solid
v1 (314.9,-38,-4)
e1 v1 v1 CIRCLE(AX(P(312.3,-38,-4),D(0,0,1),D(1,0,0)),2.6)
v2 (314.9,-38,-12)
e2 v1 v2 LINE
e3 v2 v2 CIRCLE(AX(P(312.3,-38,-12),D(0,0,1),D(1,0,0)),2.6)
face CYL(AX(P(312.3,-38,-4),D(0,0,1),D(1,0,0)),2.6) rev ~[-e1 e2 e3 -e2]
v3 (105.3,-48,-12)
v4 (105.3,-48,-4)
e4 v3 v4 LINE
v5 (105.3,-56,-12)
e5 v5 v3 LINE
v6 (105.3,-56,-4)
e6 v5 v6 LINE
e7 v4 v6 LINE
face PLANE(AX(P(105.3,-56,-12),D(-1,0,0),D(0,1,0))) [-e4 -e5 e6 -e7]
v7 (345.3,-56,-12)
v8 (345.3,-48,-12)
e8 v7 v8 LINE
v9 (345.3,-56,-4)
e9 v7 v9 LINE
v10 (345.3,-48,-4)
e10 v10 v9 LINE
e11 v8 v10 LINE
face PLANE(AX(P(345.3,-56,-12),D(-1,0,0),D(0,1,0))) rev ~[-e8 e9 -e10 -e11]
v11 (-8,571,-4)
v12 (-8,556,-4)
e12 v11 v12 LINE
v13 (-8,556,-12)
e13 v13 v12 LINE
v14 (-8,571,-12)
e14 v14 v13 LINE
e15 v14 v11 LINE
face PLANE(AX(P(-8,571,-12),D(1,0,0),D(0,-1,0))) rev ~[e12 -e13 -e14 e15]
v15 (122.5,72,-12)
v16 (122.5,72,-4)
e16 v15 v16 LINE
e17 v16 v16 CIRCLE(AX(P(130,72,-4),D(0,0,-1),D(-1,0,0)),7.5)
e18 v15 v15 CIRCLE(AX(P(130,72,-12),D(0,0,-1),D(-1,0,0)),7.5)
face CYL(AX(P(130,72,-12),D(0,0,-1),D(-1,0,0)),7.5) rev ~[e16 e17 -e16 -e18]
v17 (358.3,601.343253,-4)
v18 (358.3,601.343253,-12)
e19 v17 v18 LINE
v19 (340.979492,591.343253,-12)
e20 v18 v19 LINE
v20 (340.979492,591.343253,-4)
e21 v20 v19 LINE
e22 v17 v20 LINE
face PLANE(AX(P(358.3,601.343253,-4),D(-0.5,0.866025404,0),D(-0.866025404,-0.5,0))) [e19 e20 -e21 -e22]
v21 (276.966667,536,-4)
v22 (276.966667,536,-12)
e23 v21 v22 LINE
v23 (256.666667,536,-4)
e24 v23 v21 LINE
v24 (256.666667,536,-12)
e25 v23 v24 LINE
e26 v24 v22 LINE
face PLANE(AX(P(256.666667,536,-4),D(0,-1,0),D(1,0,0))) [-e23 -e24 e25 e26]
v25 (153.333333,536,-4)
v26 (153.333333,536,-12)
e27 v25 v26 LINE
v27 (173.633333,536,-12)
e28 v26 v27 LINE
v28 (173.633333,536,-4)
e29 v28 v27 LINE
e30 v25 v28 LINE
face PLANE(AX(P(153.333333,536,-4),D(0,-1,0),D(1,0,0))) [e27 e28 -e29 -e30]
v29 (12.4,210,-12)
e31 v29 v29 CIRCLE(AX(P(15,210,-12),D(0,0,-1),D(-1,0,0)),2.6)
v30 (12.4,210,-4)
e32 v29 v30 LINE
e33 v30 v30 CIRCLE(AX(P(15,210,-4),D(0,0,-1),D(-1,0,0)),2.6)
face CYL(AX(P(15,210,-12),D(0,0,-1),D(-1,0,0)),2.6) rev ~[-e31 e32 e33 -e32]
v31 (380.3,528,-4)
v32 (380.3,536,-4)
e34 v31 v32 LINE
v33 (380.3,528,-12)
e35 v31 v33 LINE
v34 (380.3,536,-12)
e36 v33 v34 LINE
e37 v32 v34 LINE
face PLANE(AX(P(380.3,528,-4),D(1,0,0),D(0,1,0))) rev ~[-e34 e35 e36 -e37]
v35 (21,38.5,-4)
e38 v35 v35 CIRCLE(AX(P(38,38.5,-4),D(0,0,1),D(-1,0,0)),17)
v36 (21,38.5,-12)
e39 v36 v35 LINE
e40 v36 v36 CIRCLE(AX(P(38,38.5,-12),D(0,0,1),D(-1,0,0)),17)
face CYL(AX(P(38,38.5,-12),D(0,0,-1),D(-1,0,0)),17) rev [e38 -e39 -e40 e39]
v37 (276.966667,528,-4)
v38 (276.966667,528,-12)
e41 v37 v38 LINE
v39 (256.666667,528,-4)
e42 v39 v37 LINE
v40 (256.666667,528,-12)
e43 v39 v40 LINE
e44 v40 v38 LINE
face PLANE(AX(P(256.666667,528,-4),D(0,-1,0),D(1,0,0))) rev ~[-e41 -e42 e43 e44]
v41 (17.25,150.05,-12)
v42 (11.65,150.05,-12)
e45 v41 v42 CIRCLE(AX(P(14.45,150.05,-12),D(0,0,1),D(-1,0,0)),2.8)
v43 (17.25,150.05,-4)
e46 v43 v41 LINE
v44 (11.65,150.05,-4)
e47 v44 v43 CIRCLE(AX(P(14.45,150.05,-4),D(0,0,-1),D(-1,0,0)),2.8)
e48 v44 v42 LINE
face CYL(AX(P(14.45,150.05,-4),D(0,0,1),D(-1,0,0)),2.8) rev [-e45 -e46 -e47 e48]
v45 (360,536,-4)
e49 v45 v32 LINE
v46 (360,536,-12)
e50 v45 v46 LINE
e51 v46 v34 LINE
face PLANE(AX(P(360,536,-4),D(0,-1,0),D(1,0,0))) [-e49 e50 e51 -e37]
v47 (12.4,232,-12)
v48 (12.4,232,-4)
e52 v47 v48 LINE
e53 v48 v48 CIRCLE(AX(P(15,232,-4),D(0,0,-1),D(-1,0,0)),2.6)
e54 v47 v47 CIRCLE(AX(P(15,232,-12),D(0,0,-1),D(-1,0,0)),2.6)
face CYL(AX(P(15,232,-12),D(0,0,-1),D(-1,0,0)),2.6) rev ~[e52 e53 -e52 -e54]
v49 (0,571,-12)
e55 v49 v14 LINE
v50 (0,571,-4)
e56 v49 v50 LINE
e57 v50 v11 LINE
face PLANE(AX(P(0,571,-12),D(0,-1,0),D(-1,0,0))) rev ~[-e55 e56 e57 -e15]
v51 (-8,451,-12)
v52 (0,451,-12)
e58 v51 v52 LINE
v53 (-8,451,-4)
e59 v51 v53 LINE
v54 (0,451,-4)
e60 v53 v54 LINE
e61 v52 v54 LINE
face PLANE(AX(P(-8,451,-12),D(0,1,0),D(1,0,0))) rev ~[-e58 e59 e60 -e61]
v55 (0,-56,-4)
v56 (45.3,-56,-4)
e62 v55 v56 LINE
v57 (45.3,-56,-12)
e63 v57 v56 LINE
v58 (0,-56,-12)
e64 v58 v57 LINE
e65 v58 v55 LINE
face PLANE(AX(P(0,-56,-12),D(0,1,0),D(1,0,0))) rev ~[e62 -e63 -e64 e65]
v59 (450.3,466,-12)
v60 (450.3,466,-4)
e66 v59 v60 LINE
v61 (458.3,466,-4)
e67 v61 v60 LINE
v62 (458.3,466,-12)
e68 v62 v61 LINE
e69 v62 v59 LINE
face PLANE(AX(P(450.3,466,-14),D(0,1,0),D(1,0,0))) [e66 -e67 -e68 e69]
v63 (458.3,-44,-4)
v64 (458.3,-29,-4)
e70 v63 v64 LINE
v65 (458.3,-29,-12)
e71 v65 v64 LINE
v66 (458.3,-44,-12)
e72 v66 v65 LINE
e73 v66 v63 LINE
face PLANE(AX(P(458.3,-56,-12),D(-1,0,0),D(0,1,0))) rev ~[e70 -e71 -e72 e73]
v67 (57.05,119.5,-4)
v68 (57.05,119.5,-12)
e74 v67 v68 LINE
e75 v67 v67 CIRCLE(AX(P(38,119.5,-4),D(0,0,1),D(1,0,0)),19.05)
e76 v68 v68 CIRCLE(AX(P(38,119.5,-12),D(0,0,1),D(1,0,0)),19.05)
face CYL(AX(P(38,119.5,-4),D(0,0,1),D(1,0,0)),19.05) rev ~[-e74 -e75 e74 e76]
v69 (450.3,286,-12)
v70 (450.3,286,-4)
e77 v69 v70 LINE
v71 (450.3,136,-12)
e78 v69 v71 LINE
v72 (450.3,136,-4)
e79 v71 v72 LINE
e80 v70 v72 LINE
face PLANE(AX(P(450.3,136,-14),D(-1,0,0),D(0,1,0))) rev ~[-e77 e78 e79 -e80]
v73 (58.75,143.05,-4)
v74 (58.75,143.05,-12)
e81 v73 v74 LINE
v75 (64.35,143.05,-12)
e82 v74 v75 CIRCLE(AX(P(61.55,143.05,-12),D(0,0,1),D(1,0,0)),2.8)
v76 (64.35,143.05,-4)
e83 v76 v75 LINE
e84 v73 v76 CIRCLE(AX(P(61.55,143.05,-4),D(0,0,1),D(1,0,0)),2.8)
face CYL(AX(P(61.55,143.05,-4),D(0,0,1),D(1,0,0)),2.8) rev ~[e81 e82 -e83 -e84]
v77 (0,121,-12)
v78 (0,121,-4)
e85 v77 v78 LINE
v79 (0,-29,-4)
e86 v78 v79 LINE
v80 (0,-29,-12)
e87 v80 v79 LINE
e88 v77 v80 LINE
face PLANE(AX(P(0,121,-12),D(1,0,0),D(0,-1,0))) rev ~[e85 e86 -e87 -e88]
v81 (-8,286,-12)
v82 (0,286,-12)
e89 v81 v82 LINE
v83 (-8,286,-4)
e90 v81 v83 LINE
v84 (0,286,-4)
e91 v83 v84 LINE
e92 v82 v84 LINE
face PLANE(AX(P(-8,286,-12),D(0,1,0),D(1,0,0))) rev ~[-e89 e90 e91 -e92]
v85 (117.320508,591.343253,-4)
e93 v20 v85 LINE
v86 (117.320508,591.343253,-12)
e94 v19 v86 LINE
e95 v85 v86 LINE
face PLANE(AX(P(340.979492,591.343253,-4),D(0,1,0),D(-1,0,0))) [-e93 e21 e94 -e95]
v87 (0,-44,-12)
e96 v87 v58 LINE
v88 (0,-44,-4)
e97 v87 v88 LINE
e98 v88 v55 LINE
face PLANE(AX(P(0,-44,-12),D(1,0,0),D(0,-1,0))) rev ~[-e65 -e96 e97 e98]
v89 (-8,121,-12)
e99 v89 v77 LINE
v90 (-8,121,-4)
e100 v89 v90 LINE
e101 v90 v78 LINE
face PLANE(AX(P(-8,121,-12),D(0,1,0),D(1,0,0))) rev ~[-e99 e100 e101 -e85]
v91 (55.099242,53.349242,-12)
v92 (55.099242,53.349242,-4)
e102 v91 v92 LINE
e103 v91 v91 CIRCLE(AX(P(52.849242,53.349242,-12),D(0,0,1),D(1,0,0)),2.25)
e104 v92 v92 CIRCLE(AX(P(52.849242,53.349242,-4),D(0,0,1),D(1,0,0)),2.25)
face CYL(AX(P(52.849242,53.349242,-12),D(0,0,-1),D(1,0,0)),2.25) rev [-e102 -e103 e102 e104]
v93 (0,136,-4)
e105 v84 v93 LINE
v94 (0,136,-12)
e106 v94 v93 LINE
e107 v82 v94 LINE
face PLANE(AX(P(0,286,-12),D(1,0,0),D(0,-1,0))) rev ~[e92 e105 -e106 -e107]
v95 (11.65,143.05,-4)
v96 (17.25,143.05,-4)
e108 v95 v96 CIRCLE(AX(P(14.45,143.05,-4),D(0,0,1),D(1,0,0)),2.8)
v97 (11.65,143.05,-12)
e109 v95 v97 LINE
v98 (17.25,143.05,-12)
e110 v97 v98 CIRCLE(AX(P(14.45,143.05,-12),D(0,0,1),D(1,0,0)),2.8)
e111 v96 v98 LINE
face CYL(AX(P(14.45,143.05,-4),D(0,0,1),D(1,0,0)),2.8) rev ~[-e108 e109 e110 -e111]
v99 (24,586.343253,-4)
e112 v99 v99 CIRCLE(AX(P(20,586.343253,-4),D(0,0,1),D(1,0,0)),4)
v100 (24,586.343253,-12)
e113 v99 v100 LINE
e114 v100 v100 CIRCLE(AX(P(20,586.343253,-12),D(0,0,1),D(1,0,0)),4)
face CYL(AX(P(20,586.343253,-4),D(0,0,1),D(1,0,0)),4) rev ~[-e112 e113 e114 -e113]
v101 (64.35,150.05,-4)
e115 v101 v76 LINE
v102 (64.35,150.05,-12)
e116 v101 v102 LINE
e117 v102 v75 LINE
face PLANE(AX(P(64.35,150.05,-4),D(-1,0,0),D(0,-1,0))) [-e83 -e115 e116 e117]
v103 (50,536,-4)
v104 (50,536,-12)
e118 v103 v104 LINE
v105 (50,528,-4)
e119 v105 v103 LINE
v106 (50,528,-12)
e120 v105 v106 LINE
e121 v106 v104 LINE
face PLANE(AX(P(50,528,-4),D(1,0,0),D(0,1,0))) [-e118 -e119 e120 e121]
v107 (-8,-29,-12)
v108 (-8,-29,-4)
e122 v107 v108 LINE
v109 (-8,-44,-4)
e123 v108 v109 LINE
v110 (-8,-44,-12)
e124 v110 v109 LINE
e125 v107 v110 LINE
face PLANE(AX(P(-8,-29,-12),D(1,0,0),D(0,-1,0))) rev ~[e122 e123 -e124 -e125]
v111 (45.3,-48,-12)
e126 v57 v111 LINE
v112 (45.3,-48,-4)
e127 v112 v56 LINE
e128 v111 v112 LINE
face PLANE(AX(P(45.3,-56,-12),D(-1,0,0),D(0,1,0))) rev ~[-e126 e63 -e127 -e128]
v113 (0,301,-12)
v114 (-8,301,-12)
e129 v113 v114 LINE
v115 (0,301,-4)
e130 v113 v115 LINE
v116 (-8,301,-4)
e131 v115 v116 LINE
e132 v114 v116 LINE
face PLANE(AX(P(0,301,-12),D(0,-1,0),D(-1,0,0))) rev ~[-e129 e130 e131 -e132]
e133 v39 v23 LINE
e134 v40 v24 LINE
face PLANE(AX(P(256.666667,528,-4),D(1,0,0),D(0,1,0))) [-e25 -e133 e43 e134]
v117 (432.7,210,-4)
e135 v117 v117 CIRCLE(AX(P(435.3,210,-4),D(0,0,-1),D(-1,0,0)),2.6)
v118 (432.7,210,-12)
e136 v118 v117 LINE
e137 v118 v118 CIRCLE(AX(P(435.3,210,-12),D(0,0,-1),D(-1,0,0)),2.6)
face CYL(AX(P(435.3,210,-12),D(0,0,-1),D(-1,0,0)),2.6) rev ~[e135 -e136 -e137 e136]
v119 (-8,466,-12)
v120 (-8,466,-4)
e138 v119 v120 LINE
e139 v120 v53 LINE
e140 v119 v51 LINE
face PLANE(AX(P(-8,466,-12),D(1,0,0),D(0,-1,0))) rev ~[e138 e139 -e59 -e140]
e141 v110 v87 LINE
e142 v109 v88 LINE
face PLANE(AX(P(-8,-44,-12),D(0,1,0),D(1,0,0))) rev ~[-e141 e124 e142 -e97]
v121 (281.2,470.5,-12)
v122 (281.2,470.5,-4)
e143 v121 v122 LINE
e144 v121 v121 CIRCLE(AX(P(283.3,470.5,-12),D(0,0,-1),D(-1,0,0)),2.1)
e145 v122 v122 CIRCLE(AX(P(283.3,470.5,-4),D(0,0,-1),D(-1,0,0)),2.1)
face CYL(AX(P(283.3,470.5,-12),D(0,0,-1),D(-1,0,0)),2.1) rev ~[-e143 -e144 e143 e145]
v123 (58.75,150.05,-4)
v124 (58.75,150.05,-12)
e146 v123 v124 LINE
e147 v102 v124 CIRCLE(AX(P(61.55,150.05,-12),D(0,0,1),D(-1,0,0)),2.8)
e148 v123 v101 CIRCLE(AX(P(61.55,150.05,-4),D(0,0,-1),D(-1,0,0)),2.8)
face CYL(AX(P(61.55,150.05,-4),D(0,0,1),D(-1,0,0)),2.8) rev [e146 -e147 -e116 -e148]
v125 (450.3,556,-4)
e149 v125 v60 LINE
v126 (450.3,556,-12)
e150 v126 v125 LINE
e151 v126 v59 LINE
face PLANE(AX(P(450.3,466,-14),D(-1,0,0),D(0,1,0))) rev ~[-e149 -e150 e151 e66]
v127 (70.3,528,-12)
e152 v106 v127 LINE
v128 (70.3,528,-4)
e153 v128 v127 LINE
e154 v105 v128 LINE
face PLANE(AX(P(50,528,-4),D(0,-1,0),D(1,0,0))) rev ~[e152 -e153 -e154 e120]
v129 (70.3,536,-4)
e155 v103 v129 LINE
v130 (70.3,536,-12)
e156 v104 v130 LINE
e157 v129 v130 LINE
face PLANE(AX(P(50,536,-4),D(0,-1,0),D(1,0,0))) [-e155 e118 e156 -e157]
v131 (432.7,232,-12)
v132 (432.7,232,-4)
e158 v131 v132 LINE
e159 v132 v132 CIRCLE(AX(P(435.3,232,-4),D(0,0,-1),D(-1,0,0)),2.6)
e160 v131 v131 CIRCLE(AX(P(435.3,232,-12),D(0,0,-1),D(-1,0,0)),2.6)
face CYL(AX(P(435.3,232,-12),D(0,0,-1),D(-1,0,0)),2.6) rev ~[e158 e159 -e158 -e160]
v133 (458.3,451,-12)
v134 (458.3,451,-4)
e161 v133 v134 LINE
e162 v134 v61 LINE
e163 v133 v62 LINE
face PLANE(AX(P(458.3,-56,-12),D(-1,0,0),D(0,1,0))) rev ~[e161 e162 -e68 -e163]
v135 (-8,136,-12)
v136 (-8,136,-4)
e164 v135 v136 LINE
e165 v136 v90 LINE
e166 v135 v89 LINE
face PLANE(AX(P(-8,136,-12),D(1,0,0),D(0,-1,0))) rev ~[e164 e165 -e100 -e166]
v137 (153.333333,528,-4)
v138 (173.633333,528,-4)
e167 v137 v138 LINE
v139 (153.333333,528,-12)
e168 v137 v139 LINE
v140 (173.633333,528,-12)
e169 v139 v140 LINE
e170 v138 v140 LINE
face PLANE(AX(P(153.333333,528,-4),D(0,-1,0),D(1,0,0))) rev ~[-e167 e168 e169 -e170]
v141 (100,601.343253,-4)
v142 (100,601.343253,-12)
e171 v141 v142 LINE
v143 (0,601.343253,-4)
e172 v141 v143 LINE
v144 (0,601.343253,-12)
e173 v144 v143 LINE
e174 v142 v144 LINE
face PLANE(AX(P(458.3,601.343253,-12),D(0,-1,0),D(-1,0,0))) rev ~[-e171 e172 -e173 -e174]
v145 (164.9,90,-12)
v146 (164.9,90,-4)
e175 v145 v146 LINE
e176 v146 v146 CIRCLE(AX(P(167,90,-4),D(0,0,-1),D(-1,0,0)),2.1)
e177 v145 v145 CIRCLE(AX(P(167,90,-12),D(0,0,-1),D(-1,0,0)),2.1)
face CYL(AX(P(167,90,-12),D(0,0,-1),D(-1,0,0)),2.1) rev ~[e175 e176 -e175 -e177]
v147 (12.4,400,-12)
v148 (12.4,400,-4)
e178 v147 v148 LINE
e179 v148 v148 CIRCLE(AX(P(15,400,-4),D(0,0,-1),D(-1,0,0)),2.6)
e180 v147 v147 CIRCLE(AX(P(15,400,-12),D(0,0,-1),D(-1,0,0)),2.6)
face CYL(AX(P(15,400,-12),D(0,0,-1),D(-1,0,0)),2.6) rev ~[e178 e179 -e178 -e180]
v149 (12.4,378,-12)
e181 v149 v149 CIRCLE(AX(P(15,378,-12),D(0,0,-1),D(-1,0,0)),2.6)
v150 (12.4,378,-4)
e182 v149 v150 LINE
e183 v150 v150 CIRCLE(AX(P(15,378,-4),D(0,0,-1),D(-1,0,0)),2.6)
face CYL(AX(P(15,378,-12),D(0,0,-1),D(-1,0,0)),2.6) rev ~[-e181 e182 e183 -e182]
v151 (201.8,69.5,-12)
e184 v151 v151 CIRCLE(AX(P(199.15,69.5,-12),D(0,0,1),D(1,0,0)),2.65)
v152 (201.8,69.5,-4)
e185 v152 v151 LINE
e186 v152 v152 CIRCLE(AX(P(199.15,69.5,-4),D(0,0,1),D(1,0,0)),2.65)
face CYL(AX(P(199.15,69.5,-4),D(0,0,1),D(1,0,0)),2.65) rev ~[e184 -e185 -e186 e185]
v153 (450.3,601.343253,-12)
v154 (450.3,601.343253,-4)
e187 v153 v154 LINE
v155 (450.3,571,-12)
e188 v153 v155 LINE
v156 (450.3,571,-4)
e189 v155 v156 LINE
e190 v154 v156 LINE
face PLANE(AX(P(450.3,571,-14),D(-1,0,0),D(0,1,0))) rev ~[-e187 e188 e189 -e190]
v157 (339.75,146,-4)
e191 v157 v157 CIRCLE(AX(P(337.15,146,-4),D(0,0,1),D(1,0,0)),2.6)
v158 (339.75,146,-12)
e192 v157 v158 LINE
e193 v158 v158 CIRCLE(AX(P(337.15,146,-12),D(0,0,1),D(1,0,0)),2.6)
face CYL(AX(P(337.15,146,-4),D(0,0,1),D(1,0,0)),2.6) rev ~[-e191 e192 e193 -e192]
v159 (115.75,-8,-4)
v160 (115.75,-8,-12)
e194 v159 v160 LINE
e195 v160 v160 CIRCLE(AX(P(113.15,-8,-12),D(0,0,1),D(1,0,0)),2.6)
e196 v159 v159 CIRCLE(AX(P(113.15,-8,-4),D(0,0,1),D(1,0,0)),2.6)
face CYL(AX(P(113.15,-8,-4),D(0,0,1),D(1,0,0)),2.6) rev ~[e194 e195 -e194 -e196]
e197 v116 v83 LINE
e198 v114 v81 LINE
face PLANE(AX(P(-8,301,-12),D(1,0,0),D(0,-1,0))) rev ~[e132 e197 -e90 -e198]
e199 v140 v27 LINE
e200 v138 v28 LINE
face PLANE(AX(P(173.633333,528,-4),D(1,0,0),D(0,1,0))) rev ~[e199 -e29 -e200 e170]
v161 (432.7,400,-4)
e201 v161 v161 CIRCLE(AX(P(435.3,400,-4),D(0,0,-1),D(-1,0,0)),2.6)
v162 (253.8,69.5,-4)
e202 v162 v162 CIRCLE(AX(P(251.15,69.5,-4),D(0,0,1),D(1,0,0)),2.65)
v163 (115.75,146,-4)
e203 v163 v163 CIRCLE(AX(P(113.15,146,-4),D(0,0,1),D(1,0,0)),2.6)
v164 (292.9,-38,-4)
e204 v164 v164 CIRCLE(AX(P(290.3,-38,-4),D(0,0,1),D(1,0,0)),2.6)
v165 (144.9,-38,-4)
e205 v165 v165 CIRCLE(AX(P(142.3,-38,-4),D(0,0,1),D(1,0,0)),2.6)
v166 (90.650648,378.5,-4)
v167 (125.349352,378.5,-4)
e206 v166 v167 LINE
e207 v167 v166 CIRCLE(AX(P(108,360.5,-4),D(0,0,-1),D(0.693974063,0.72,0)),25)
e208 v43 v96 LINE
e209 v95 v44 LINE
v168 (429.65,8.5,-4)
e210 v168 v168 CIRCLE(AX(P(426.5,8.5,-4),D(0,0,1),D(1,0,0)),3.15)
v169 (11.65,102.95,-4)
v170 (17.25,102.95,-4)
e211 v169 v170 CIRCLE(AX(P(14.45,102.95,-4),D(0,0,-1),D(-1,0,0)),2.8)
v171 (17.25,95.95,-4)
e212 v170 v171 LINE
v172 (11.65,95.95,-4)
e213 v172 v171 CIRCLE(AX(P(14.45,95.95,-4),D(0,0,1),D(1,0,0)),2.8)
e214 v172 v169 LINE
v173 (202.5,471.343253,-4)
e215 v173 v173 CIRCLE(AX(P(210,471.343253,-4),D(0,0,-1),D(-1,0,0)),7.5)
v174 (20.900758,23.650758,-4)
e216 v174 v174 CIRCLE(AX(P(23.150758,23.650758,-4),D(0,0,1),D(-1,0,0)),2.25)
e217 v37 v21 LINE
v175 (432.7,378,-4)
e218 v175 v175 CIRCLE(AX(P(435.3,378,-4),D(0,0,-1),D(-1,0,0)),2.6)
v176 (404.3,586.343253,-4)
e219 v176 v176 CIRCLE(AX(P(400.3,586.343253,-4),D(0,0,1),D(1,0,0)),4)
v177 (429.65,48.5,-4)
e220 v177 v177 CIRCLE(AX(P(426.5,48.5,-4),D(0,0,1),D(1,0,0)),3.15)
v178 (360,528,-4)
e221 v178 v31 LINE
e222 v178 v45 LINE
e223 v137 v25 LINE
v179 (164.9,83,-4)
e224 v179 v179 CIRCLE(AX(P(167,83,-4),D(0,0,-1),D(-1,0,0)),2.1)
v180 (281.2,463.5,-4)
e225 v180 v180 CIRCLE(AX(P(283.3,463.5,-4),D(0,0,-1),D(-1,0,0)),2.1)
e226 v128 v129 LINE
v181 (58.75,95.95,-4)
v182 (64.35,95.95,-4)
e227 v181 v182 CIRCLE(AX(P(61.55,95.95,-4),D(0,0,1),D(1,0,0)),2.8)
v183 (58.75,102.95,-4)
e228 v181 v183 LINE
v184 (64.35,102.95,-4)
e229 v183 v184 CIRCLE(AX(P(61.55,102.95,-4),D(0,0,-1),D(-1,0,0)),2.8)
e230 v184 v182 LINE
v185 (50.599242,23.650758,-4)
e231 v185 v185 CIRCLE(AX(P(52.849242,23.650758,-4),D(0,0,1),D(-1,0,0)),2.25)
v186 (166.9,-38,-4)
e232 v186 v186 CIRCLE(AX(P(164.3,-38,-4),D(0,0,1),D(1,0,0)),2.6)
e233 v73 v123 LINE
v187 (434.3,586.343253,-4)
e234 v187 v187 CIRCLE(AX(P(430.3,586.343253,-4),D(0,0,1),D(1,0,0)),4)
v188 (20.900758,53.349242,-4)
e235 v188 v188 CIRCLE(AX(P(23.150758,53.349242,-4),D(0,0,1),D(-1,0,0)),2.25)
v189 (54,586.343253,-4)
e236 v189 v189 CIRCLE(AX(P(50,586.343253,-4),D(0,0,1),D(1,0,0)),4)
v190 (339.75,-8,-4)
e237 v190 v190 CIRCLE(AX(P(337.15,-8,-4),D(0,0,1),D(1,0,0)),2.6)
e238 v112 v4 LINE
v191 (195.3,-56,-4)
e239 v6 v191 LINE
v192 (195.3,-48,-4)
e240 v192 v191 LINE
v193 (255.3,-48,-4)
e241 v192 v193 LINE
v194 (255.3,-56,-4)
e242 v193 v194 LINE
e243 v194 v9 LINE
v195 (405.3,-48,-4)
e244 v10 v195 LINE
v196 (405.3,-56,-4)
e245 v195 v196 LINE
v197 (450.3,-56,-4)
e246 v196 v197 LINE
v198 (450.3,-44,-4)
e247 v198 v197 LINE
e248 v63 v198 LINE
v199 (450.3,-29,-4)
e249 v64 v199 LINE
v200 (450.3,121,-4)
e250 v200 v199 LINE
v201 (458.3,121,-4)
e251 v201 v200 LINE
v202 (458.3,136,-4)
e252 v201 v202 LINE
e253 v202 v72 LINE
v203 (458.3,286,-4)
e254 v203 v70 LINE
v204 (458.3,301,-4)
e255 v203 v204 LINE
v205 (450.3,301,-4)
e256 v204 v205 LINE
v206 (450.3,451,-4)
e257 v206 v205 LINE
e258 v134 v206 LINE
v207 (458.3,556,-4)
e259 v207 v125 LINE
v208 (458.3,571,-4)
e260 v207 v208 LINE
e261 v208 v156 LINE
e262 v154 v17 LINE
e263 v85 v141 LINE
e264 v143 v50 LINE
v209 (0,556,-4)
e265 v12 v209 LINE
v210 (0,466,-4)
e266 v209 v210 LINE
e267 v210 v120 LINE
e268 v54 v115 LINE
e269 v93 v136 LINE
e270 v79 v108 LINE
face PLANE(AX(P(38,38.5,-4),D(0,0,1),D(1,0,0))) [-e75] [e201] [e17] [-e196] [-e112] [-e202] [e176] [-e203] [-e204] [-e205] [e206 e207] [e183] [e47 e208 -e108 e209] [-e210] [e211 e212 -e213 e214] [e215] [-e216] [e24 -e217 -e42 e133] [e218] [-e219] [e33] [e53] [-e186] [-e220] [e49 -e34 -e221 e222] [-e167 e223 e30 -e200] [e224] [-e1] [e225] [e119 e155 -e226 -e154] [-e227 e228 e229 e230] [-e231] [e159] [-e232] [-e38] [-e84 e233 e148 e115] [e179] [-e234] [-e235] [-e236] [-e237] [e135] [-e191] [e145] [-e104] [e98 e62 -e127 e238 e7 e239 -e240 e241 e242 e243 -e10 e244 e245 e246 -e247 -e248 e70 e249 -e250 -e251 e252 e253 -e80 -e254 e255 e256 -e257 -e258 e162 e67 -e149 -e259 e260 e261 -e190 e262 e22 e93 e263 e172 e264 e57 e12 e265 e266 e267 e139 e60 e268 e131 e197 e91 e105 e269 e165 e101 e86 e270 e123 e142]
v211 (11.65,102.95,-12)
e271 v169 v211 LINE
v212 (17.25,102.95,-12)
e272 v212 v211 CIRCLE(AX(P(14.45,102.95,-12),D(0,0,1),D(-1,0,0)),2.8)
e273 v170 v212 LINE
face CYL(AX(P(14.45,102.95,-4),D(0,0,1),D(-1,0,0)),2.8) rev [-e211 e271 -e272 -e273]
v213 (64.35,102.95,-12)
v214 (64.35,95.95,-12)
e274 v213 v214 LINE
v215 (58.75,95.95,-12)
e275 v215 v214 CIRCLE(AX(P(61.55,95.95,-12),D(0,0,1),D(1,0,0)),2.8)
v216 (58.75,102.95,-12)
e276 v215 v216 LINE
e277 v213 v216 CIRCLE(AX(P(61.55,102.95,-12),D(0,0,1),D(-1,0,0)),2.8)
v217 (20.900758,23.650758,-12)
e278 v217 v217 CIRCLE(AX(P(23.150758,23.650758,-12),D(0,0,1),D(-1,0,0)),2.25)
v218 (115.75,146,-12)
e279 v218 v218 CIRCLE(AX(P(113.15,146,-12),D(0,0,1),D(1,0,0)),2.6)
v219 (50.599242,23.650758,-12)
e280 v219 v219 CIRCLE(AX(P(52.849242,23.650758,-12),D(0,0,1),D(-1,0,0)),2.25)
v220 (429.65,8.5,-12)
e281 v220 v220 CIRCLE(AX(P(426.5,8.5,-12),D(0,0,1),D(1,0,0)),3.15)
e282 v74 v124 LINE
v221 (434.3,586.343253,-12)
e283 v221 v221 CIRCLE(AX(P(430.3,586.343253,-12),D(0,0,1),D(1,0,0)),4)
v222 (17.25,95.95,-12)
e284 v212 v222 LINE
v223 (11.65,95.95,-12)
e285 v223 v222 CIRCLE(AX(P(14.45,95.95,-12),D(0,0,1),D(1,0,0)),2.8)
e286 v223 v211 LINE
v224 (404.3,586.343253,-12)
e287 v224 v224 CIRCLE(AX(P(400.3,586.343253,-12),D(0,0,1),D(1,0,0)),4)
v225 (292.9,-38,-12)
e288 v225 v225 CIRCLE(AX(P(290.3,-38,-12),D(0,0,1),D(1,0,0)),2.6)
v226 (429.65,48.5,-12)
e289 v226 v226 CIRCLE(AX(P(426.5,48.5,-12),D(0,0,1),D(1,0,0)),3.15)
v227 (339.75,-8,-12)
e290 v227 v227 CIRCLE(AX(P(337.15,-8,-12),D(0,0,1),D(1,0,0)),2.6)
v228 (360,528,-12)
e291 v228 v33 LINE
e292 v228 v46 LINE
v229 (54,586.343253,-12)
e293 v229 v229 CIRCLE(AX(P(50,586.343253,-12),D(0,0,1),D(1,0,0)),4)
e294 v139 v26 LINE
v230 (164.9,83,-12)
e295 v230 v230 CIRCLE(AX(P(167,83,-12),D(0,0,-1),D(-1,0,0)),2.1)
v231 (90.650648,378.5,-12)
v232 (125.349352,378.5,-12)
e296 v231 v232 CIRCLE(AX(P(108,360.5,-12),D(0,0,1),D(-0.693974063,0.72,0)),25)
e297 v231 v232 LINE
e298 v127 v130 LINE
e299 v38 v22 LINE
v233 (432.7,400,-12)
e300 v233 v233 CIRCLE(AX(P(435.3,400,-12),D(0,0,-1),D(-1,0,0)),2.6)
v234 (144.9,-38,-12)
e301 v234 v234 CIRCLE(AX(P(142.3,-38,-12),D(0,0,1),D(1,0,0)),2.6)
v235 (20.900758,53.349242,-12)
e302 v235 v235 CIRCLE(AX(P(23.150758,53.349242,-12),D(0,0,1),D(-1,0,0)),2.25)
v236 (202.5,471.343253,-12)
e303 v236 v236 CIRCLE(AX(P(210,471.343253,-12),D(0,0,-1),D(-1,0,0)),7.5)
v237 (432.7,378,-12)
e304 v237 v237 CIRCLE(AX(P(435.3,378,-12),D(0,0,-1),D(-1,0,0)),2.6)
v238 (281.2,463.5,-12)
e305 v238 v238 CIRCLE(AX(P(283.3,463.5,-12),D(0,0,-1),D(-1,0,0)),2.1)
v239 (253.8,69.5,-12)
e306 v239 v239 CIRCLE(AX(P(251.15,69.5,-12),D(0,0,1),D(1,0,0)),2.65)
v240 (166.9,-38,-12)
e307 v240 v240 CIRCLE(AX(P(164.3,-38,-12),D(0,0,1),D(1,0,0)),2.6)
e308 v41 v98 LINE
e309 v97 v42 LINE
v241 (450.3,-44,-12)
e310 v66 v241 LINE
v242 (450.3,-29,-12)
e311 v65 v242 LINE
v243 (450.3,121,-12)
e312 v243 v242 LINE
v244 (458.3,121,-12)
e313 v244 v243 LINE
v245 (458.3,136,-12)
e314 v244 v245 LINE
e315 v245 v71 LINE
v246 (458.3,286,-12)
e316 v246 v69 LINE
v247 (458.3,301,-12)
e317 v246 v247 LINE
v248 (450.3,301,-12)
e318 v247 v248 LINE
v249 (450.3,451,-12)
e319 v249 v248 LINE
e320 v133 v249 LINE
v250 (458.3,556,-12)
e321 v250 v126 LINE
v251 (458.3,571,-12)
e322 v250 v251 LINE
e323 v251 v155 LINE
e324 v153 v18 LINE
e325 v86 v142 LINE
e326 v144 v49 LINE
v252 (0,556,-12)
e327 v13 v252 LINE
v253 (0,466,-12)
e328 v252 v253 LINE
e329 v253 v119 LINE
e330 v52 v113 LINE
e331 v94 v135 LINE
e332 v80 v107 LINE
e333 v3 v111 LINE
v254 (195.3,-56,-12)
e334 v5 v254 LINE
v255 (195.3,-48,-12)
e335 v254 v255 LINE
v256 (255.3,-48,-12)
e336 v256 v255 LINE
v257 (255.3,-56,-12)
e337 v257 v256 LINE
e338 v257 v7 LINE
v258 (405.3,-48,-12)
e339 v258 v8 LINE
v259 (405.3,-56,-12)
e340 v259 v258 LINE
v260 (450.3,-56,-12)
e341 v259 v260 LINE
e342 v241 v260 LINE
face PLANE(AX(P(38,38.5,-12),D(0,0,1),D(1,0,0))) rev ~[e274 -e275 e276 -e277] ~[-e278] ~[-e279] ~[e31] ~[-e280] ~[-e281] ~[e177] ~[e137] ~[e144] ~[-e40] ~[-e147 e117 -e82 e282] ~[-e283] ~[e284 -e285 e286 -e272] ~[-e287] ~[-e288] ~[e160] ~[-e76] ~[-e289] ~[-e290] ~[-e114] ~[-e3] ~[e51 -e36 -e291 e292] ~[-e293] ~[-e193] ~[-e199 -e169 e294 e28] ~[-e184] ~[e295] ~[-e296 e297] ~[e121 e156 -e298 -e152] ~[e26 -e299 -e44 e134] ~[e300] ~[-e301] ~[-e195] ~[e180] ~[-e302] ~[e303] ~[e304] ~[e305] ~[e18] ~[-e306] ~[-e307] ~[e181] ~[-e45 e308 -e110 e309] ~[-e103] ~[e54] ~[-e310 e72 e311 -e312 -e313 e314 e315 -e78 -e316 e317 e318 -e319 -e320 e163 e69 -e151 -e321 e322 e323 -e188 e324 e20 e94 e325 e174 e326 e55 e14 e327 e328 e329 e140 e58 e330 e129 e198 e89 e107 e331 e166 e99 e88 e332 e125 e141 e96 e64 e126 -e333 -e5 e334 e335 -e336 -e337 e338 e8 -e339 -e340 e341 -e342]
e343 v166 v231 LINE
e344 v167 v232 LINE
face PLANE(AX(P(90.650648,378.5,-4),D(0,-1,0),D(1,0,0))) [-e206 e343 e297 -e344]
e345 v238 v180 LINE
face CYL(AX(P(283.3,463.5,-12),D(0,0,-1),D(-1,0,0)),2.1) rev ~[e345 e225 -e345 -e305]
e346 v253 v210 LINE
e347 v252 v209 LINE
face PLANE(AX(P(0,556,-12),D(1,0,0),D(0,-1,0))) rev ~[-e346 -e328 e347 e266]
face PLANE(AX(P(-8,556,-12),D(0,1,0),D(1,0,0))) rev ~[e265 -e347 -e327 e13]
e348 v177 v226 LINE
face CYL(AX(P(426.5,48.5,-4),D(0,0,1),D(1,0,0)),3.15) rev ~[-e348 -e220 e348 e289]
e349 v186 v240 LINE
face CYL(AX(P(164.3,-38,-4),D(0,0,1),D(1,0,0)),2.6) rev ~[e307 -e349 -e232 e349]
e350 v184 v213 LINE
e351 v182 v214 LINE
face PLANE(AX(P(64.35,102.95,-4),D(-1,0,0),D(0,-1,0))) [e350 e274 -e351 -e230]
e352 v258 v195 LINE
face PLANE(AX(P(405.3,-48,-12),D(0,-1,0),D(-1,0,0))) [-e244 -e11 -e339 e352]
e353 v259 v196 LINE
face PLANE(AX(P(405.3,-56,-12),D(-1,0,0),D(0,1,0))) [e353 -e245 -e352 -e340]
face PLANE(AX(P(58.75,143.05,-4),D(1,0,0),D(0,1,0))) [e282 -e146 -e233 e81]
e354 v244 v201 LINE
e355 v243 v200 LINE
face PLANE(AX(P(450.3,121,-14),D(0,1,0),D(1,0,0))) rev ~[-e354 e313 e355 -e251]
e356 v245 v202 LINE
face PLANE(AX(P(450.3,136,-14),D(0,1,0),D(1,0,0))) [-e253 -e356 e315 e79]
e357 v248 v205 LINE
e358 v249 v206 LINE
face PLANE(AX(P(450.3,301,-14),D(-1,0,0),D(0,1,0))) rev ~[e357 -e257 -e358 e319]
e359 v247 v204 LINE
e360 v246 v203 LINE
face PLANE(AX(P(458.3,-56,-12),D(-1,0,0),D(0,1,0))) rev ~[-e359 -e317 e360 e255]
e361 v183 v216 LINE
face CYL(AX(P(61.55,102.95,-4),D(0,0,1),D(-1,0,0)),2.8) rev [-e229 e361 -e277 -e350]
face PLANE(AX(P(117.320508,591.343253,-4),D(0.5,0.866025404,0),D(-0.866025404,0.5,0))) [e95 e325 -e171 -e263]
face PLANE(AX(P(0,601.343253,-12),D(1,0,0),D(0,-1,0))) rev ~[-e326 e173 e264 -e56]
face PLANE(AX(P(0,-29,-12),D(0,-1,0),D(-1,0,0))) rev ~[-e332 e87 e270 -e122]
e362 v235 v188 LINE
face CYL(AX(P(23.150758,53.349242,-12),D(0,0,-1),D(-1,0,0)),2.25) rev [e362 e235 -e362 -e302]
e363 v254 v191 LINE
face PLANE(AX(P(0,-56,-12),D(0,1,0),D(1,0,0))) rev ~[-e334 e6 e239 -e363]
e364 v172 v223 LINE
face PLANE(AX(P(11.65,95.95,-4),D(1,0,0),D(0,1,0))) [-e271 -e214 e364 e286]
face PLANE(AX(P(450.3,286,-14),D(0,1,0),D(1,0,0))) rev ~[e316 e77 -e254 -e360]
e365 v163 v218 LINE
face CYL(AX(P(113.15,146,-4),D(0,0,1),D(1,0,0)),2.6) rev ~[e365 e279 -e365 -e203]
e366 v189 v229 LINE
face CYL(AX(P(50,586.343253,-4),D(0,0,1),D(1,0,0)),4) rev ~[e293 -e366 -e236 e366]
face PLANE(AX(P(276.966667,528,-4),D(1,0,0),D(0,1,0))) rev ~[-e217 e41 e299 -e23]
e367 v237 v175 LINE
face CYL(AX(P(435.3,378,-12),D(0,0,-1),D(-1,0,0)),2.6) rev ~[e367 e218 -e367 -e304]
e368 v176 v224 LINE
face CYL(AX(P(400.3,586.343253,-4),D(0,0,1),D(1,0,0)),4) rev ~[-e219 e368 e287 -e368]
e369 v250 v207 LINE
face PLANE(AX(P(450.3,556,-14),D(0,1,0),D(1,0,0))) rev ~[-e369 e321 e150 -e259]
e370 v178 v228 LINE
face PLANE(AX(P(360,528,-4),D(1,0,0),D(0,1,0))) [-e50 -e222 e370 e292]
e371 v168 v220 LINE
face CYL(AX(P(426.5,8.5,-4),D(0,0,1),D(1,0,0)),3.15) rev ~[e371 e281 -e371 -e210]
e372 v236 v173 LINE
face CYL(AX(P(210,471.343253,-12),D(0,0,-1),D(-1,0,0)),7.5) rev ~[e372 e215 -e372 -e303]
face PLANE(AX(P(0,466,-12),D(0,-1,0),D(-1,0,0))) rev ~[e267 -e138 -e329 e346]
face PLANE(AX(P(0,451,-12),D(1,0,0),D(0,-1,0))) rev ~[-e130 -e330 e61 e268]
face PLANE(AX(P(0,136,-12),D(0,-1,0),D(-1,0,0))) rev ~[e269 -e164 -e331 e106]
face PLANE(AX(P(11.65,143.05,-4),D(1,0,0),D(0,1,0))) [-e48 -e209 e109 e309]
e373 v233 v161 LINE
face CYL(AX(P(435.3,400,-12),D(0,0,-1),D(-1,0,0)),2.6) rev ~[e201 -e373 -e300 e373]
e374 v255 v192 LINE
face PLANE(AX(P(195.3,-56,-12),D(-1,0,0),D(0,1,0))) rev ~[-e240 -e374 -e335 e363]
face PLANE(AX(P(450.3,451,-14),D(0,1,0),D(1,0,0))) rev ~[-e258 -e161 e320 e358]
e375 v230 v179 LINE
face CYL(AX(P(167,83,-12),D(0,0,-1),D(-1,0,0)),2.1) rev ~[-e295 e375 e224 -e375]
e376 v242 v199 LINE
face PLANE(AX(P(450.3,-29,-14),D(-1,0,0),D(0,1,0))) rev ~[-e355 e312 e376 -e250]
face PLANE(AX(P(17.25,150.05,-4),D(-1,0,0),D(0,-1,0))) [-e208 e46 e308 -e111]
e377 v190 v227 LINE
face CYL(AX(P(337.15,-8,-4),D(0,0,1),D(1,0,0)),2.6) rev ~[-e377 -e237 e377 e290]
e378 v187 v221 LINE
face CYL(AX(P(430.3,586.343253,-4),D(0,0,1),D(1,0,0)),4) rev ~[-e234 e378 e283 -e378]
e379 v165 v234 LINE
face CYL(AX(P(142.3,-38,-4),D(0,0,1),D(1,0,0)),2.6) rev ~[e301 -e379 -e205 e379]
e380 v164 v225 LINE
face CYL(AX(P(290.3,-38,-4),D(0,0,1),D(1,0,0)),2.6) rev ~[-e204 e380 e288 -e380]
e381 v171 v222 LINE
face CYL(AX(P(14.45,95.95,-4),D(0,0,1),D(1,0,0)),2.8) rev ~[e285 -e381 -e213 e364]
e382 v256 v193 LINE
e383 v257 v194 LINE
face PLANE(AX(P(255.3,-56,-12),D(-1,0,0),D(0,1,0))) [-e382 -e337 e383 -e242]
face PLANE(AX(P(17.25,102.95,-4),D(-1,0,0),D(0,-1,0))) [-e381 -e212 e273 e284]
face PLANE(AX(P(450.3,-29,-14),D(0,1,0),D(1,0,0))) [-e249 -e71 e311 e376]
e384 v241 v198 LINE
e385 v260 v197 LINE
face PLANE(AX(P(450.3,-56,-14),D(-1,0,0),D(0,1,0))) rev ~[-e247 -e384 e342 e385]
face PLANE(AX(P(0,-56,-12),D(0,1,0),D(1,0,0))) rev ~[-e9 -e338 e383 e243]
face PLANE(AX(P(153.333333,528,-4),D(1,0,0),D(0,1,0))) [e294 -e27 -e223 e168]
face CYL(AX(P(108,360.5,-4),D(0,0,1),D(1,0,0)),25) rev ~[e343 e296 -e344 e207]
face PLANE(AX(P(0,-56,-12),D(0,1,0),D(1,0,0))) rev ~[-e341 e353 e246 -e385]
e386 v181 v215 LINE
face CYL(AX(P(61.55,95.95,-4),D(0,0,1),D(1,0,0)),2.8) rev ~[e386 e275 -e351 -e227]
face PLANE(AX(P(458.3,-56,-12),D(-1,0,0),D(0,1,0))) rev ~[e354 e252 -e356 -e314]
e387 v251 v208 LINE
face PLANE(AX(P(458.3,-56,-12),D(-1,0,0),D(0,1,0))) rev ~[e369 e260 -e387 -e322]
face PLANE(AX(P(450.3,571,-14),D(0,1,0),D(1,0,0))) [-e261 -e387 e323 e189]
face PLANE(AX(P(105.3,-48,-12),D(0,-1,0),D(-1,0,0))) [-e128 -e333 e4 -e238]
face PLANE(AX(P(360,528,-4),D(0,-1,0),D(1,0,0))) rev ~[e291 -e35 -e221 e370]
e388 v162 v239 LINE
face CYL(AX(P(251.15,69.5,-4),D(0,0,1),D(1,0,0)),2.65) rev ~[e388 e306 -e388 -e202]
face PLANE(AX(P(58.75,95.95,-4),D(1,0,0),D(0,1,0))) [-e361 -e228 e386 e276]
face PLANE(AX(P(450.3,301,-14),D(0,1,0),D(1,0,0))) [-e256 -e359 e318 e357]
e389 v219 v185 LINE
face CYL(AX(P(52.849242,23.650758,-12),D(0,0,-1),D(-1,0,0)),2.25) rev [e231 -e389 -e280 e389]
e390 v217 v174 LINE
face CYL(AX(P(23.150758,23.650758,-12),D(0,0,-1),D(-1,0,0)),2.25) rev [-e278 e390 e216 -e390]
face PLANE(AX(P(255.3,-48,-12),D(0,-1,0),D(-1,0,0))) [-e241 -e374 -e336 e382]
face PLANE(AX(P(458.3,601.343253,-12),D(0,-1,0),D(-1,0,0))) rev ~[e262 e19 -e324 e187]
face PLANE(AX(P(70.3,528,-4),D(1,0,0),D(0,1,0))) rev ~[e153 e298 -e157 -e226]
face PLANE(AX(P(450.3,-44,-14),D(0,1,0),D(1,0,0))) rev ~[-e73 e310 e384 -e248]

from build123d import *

# Parameters (mm, degrees)
BOSS_EXTRU_1_DEPTH           = 8
ESQUISSE3_W                  = 20.3
ESQUISSE3_H                  = 8
ENL_V_MAT_EXTRU_1_DEPTH      = 8
ENL_V_MAT_EXTRU_2_DEPTH      = 10
ENL_V_MAT_EXTRU_3_DEPTH      = 757.11943364
ENL_V_MAT_EXTRU_3_DEPTH_BACK = 10
ESQUISSE5_W                  = 8
ESQUISSE5_H                  = 150
ESQUISSE5_H_2                = 12
ESQUISSE5_H_3                = 90
ESQUISSE5_H_4                = 30.343253
BOSS_EXTRU_2_DEPTH           = 8
ESQUISSE7_R                  = 19.05
ENL_V_MAT_EXTRU_4_DEPTH      = 10
ESQUISSE8_R                  = 2.8
ENL_V_MAT_EXTRU_5_DEPTH      = 10
ESQUISSE9_R                  = 3.15
ENL_V_MAT_EXTRU_6_DEPTH      = 10
ESQUISSE10_R                 = 2.65
ENL_V_MAT_EXTRU_7_DEPTH      = 10
ESQUISSE12_W                 = 60
ESQUISSE12_H                 = 8
ENL_V_MAT_EXTRU_8_DEPTH      = 10
ESQUISSE13_R                 = 2.6
ENL_V_MAT_EXTRU_9_DEPTH      = 10
ESQUISSE15_R                 = 2.6
ENL_V_MAT_EXTRU_10_DEPTH     = 10
ESQUISSE16_R                 = 2.6
ENL_V_MAT_EXTRU_11_DEPTH     = 10
ESQUISSE17_R                 = 4
ENL_V_MAT_EXTRU_12_DEPTH     = 10
ESQUISSE18_R                 = 2.1
ENL_V_MAT_EXTRU_13_DEPTH     = 10
ENL_V_MAT_EXTRU_14_DEPTH     = 10
ESQUISSE20_R                 = 25
ENL_V_MAT_EXTRU_15_DEPTH     = 10
BOSS_EXTRU_3_START           = -8
BOSS_EXTRU_3_DEPTH           = 8
ESQUISSE22_R                 = 7.5
ENL_V_MAT_EXTRU_16_DEPTH     = 10
ESQUISSE23_R                 = 2.6
ENL_V_MAT_EXTRU_17_DEPTH     = 10


with BuildPart() as part:
    # Esquisse2 → Boss.-Extru.1 (new body)
    with BuildSketch(Plane.XY.offset(-12)):
        Polygon((0, -56), (458.3, -56), (458.3, 601.343253), (0, 601.343253), (0, 571), (-8, 571), (-8, 556), (0, 556), (0, 466), (-8, 466), (-8, 451), (0, 451), (0, 301), (-8, 301), (-8, 286), (0, 286), (0, 136), (-8, 136), (-8, 121), (0, 121), (0, -29), (-8, -29), (-8, -44), (0, -44), align=None)
        with BuildLine():
            ThreePointArc((17, 53.829709717), (19.615223689, 56.884776311), (22.670290283, 59.5))
            Line((22.670290283, 59.5), (53.329709717, 59.5))
            ThreePointArc((53.329709717, 59.5), (56.384776311, 56.884776311), (59, 53.829709717))
            Line((59, 53.829709717), (59, 23.170290283))
            ThreePointArc((59, 23.170290283), (56.384776311, 20.115223689), (53.329709717, 17.5))
            Line((53.329709717, 17.5), (22.670290283, 17.5))
            ThreePointArc((22.670290283, 17.5), (19.615223689, 20.115223689), (17, 23.170290283))
            Line((17, 23.170290283), (17, 53.829709717))
        make_face(mode=Mode.SUBTRACT)
    extrude(amount=BOSS_EXTRU_1_DEPTH)

    # Esquisse3 → Enlèv. mat.-Extru.1 (cut)
    with BuildSketch(Plane.XY.offset(-4)):
        with Locations((163.483333333, 532)):
            Rectangle(ESQUISSE3_W, ESQUISSE3_H)
        with Locations((60.15, 532)):
            Rectangle(ESQUISSE3_W, ESQUISSE3_H)
        with Locations((266.816666667, 532)):
            Rectangle(ESQUISSE3_W, ESQUISSE3_H)
        with Locations((370.15, 532)):
            Rectangle(ESQUISSE3_W, ESQUISSE3_H)
    extrude(amount=-ENL_V_MAT_EXTRU_1_DEPTH, mode=Mode.SUBTRACT)

    # Esquisse4 → Enlèv. mat.-Extru.2 (cut)
    with BuildSketch(Plane.XY.offset(-4)):
        Polygon((358.3, 601.343253), (340.979491924, 591.343253), (117.320508076, 591.343253), (100, 601.343253), align=None)
    extrude(amount=-ENL_V_MAT_EXTRU_2_DEPTH, mode=Mode.SUBTRACT)

    # Esquisse5 → Enlèv. mat.-Extru.3 (cut, two sides: drawn at the far end of the back side and taken through both)
    with BuildSketch(Plane.XY.offset(-4).offset(-ENL_V_MAT_EXTRU_3_DEPTH_BACK)):
        with Locations((454.3, 46)):
            Rectangle(ESQUISSE5_W, ESQUISSE5_H)
        with Locations((454.3, -50)):
            Rectangle(ESQUISSE5_W, ESQUISSE5_H_2)
        with Locations((454.3, 211)):
            Rectangle(ESQUISSE5_W, ESQUISSE5_H)
        with Locations((454.3, 376)):
            Rectangle(ESQUISSE5_W, ESQUISSE5_H)
        with Locations((454.3, 511)):
            Rectangle(ESQUISSE5_W, ESQUISSE5_H_3)
        with Locations((454.3, 586.1716265)):
            Rectangle(ESQUISSE5_W, ESQUISSE5_H_4)
    extrude(amount=ENL_V_MAT_EXTRU_3_DEPTH + ENL_V_MAT_EXTRU_3_DEPTH_BACK, mode=Mode.SUBTRACT)

    # Esquisse6 → Boss.-Extru.2 (add)
    with BuildSketch(Plane.XY.offset(-12)):
        with BuildLine():
            Line((17, 53.829709717), (17, 23.170290283))
            ThreePointArc((17, 23.170290283), (19.615223689, 20.115223689), (22.670290283, 17.5))
            Line((22.670290283, 17.5), (53.329709717, 17.5))
            ThreePointArc((53.329709717, 17.5), (56.384776311, 20.115223689), (59, 23.170290283))
            Line((59, 23.170290283), (59, 53.829709717))
            ThreePointArc((59, 53.829709717), (56.384776311, 56.884776311), (53.329709717, 59.5))
            Line((53.329709717, 59.5), (22.670290283, 59.5))
            ThreePointArc((22.670290283, 59.5), (19.615223689, 56.884776311), (17, 53.829709717))
        make_face()
        with BuildLine():
            ThreePointArc((55, 38.5), (38, 55.5), (21, 38.5))
            ThreePointArc((21, 38.5), (38, 21.5), (55, 38.5))
        make_face(mode=Mode.SUBTRACT)
        with BuildLine():
            ThreePointArc((25.400757595, 53.349242405), (23.150757595, 55.599242405), (20.900757595, 53.349242405))
            ThreePointArc((20.900757595, 53.349242405), (23.150757595, 51.099242405), (25.400757595, 53.349242405))
        make_face(mode=Mode.SUBTRACT)
        with BuildLine():
            ThreePointArc((50.599242405, 53.349242405), (52.849242405, 51.099242405), (55.099242405, 53.349242405))
            ThreePointArc((55.099242405, 53.349242405), (52.849242405, 55.599242405), (50.599242405, 53.349242405))
        make_face(mode=Mode.SUBTRACT)
        with BuildLine():
            ThreePointArc((55.099242405, 23.650757595), (52.849242405, 25.900757595), (50.599242405, 23.650757595))
            ThreePointArc((50.599242405, 23.650757595), (52.849242405, 21.400757595), (55.099242405, 23.650757595))
        make_face(mode=Mode.SUBTRACT)
        with BuildLine():
            ThreePointArc((25.400757595, 23.650757595), (23.150757595, 25.900757595), (20.900757595, 23.650757595))
            ThreePointArc((20.900757595, 23.650757595), (23.150757595, 21.400757595), (25.400757595, 23.650757595))
        make_face(mode=Mode.SUBTRACT)
    extrude(amount=BOSS_EXTRU_2_DEPTH)

    # Esquisse7 → Enlèv. mat.-Extru.4 (cut)
    with BuildSketch(Plane.XY.offset(-4)):
        with Locations((38, 119.5)):
            Circle(ESQUISSE7_R)
    extrude(amount=-ENL_V_MAT_EXTRU_4_DEPTH, mode=Mode.SUBTRACT)

    # Esquisse8 → Enlèv. mat.-Extru.5 (cut)
    with BuildSketch(Plane.XY.offset(-4)):
        with Locations((61.55, 143.05)):
            Circle(ESQUISSE8_R)
        with Locations((14.45, 143.05)):
            Circle(ESQUISSE8_R)
        with Locations((14.45, 95.95)):
            Circle(ESQUISSE8_R)
        with Locations((61.55, 95.95)):
            Circle(ESQUISSE8_R)
    extrude(amount=-ENL_V_MAT_EXTRU_5_DEPTH, mode=Mode.SUBTRACT)

    # Esquisse9 → Enlèv. mat.-Extru.6 (cut)
    with BuildSketch(Plane.XY.offset(-4)):
        with Locations((426.5, 48.5)):
            Circle(ESQUISSE9_R)
        with Locations((426.5, 8.5)):
            Circle(ESQUISSE9_R)
    extrude(amount=-ENL_V_MAT_EXTRU_6_DEPTH, mode=Mode.SUBTRACT)

    # Esquisse10 → Enlèv. mat.-Extru.7 (cut)
    with BuildSketch(Plane.XY.offset(-4)):
        with Locations((251.15, 69.5)):
            Circle(ESQUISSE10_R)
        with Locations((199.15, 69.5)):
            Circle(ESQUISSE10_R)
    extrude(amount=-ENL_V_MAT_EXTRU_7_DEPTH, mode=Mode.SUBTRACT)

    # Esquisse12 → Enlèv. mat.-Extru.8 (cut)
    with BuildSketch(Plane(origin=(0, 0, -12), x_dir=(-1, 0, 0), z_dir=(0, 0, -1))):
        with Locations((-375.3, -52)):
            Rectangle(ESQUISSE12_W, ESQUISSE12_H)
        with Locations((-225.3, -52)):
            Rectangle(ESQUISSE12_W, ESQUISSE12_H)
        with Locations((-75.3, -52)):
            Rectangle(ESQUISSE12_W, ESQUISSE12_H)
    extrude(amount=-ENL_V_MAT_EXTRU_8_DEPTH, mode=Mode.SUBTRACT)

    # Esquisse13 → Enlèv. mat.-Extru.9 (cut)
    with BuildSketch(Plane.XY.offset(-4)):
        with Locations((312.3, -38)):
            Circle(ESQUISSE13_R)
        with Locations((290.3, -38)):
            Circle(ESQUISSE13_R)
        with Locations((164.3, -38)):
            Circle(ESQUISSE13_R)
        with Locations((142.3, -38)):
            Circle(ESQUISSE13_R)
    extrude(amount=-ENL_V_MAT_EXTRU_9_DEPTH, mode=Mode.SUBTRACT)

    # Esquisse15 → Enlèv. mat.-Extru.10 (cut)
    with BuildSketch(Plane(origin=(0, 0, -12), x_dir=(-1, 0, 0), z_dir=(0, 0, -1))):
        with Locations((-435.3, 378)):
            Circle(ESQUISSE15_R)
        with Locations((-435.3, 400)):
            Circle(ESQUISSE15_R)
        with Locations((-15, 378)):
            Circle(ESQUISSE15_R)
        with Locations((-15, 400)):
            Circle(ESQUISSE15_R)
    extrude(amount=-ENL_V_MAT_EXTRU_10_DEPTH, mode=Mode.SUBTRACT)

    # Esquisse16 → Enlèv. mat.-Extru.11 (cut)
    with BuildSketch(Plane.XY.offset(-4)):
        with Locations((337.15, 146)):
            Circle(ESQUISSE16_R)
        with Locations((113.15, 146)):
            Circle(ESQUISSE16_R)
        with Locations((113.15, -8)):
            Circle(ESQUISSE16_R)
        with Locations((337.15, -8)):
            Circle(ESQUISSE16_R)
    extrude(amount=-ENL_V_MAT_EXTRU_11_DEPTH, mode=Mode.SUBTRACT)

    # Esquisse17 → Enlèv. mat.-Extru.12 (cut)
    with BuildSketch(Plane.XY.offset(-4)):
        with Locations((20, 586.343253)):
            Circle(ESQUISSE17_R)
        with Locations((50, 586.343253)):
            Circle(ESQUISSE17_R)
        with Locations((400.3, 586.343253)):
            Circle(ESQUISSE17_R)
        with Locations((430.3, 586.343253)):
            Circle(ESQUISSE17_R)
    extrude(amount=-ENL_V_MAT_EXTRU_12_DEPTH, mode=Mode.SUBTRACT)

    # Esquisse18 → Enlèv. mat.-Extru.13 (cut)
    with BuildSketch(Plane(origin=(0, 0, -12), x_dir=(-1, 0, 0), z_dir=(0, 0, -1))):
        with Locations((-167, 90)):
            Circle(ESQUISSE18_R)
        with Locations((-167, 83)):
            Circle(ESQUISSE18_R)
        with Locations((-283.3, 470.5)):
            Circle(ESQUISSE18_R)
        with Locations((-283.3, 463.5)):
            Circle(ESQUISSE18_R)
    extrude(amount=-ENL_V_MAT_EXTRU_13_DEPTH, mode=Mode.SUBTRACT)

    # Esquisse19 → Enlèv. mat.-Extru.14 (cut)
    with BuildSketch(Plane.XY.offset(-4)):
        with BuildLine():
            Line((11.65, 143.05), (11.65, 150.05))
            ThreePointArc((11.65, 150.05), (14.45, 152.85), (17.25, 150.05))
            Line((17.25, 150.05), (17.25, 143.05))
            ThreePointArc((17.25, 143.05), (14.45, 140.25), (11.65, 143.05))
        make_face()
        with BuildLine():
            Line((58.75, 143.05), (58.75, 150.05))
            ThreePointArc((58.75, 150.05), (61.55, 152.85), (64.35, 150.05))
            Line((64.35, 150.05), (64.35, 143.05))
            ThreePointArc((64.35, 143.05), (61.55, 140.25), (58.75, 143.05))
        make_face()
        with BuildLine():
            Line((58.75, 95.95), (58.75, 102.95))
            ThreePointArc((58.75, 102.95), (61.55, 105.75), (64.35, 102.95))
            Line((64.35, 102.95), (64.35, 95.95))
            ThreePointArc((64.35, 95.95), (61.55, 93.15), (58.75, 95.95))
        make_face()
        with BuildLine():
            Line((11.65, 95.95), (11.65, 102.95))
            ThreePointArc((11.65, 102.95), (14.45, 105.75), (17.25, 102.95))
            Line((17.25, 102.95), (17.25, 95.95))
            ThreePointArc((17.25, 95.95), (14.45, 93.15), (11.65, 95.95))
        make_face()
    extrude(amount=-ENL_V_MAT_EXTRU_14_DEPTH, mode=Mode.SUBTRACT)

    # Esquisse20 → Enlèv. mat.-Extru.15 (cut)
    with BuildSketch(Plane.XY.offset(-4)):
        with Locations((108, 360.5)):
            Circle(ESQUISSE20_R)
    extrude(amount=-ENL_V_MAT_EXTRU_15_DEPTH, mode=Mode.SUBTRACT)

    # Esquisse21 → Boss.-Extru.3 (add)
    with BuildSketch(Plane(origin=(0, 0, -12), x_dir=(-1, 0, 0), z_dir=(0, 0, -1)).offset(BOSS_EXTRU_3_START)):
        with BuildLine():
            Line((-90.650648427, 378.5), (-125.349351573, 378.5))
            ThreePointArc((-125.349351573, 378.5), (-108, 385.5), (-90.650648427, 378.5))
        make_face()
    extrude(amount=BOSS_EXTRU_3_DEPTH)

    # Esquisse22 → Enlèv. mat.-Extru.16 (cut)
    with BuildSketch(Plane(origin=(0, 0, -12), x_dir=(-1, 0, 0), z_dir=(0, 0, -1))):
        with Locations((-210, 471.343253)):
            Circle(ESQUISSE22_R)
        with Locations((-130, 72)):
            Circle(ESQUISSE22_R)
    extrude(amount=-ENL_V_MAT_EXTRU_16_DEPTH, mode=Mode.SUBTRACT)

    # Esquisse23 → Enlèv. mat.-Extru.17 (cut)
    with BuildSketch(Plane(origin=(0, 0, -12), x_dir=(-1, 0, 0), z_dir=(0, 0, -1))):
        with Locations((-435.3, 232)):
            Circle(ESQUISSE23_R)
        with Locations((-435.3, 210)):
            Circle(ESQUISSE23_R)
        with Locations((-15, 232)):
            Circle(ESQUISSE23_R)
        with Locations((-15, 210)):
            Circle(ESQUISSE23_R)
    extrude(amount=-ENL_V_MAT_EXTRU_17_DEPTH, mode=Mode.SUBTRACT)


solid = part.part
